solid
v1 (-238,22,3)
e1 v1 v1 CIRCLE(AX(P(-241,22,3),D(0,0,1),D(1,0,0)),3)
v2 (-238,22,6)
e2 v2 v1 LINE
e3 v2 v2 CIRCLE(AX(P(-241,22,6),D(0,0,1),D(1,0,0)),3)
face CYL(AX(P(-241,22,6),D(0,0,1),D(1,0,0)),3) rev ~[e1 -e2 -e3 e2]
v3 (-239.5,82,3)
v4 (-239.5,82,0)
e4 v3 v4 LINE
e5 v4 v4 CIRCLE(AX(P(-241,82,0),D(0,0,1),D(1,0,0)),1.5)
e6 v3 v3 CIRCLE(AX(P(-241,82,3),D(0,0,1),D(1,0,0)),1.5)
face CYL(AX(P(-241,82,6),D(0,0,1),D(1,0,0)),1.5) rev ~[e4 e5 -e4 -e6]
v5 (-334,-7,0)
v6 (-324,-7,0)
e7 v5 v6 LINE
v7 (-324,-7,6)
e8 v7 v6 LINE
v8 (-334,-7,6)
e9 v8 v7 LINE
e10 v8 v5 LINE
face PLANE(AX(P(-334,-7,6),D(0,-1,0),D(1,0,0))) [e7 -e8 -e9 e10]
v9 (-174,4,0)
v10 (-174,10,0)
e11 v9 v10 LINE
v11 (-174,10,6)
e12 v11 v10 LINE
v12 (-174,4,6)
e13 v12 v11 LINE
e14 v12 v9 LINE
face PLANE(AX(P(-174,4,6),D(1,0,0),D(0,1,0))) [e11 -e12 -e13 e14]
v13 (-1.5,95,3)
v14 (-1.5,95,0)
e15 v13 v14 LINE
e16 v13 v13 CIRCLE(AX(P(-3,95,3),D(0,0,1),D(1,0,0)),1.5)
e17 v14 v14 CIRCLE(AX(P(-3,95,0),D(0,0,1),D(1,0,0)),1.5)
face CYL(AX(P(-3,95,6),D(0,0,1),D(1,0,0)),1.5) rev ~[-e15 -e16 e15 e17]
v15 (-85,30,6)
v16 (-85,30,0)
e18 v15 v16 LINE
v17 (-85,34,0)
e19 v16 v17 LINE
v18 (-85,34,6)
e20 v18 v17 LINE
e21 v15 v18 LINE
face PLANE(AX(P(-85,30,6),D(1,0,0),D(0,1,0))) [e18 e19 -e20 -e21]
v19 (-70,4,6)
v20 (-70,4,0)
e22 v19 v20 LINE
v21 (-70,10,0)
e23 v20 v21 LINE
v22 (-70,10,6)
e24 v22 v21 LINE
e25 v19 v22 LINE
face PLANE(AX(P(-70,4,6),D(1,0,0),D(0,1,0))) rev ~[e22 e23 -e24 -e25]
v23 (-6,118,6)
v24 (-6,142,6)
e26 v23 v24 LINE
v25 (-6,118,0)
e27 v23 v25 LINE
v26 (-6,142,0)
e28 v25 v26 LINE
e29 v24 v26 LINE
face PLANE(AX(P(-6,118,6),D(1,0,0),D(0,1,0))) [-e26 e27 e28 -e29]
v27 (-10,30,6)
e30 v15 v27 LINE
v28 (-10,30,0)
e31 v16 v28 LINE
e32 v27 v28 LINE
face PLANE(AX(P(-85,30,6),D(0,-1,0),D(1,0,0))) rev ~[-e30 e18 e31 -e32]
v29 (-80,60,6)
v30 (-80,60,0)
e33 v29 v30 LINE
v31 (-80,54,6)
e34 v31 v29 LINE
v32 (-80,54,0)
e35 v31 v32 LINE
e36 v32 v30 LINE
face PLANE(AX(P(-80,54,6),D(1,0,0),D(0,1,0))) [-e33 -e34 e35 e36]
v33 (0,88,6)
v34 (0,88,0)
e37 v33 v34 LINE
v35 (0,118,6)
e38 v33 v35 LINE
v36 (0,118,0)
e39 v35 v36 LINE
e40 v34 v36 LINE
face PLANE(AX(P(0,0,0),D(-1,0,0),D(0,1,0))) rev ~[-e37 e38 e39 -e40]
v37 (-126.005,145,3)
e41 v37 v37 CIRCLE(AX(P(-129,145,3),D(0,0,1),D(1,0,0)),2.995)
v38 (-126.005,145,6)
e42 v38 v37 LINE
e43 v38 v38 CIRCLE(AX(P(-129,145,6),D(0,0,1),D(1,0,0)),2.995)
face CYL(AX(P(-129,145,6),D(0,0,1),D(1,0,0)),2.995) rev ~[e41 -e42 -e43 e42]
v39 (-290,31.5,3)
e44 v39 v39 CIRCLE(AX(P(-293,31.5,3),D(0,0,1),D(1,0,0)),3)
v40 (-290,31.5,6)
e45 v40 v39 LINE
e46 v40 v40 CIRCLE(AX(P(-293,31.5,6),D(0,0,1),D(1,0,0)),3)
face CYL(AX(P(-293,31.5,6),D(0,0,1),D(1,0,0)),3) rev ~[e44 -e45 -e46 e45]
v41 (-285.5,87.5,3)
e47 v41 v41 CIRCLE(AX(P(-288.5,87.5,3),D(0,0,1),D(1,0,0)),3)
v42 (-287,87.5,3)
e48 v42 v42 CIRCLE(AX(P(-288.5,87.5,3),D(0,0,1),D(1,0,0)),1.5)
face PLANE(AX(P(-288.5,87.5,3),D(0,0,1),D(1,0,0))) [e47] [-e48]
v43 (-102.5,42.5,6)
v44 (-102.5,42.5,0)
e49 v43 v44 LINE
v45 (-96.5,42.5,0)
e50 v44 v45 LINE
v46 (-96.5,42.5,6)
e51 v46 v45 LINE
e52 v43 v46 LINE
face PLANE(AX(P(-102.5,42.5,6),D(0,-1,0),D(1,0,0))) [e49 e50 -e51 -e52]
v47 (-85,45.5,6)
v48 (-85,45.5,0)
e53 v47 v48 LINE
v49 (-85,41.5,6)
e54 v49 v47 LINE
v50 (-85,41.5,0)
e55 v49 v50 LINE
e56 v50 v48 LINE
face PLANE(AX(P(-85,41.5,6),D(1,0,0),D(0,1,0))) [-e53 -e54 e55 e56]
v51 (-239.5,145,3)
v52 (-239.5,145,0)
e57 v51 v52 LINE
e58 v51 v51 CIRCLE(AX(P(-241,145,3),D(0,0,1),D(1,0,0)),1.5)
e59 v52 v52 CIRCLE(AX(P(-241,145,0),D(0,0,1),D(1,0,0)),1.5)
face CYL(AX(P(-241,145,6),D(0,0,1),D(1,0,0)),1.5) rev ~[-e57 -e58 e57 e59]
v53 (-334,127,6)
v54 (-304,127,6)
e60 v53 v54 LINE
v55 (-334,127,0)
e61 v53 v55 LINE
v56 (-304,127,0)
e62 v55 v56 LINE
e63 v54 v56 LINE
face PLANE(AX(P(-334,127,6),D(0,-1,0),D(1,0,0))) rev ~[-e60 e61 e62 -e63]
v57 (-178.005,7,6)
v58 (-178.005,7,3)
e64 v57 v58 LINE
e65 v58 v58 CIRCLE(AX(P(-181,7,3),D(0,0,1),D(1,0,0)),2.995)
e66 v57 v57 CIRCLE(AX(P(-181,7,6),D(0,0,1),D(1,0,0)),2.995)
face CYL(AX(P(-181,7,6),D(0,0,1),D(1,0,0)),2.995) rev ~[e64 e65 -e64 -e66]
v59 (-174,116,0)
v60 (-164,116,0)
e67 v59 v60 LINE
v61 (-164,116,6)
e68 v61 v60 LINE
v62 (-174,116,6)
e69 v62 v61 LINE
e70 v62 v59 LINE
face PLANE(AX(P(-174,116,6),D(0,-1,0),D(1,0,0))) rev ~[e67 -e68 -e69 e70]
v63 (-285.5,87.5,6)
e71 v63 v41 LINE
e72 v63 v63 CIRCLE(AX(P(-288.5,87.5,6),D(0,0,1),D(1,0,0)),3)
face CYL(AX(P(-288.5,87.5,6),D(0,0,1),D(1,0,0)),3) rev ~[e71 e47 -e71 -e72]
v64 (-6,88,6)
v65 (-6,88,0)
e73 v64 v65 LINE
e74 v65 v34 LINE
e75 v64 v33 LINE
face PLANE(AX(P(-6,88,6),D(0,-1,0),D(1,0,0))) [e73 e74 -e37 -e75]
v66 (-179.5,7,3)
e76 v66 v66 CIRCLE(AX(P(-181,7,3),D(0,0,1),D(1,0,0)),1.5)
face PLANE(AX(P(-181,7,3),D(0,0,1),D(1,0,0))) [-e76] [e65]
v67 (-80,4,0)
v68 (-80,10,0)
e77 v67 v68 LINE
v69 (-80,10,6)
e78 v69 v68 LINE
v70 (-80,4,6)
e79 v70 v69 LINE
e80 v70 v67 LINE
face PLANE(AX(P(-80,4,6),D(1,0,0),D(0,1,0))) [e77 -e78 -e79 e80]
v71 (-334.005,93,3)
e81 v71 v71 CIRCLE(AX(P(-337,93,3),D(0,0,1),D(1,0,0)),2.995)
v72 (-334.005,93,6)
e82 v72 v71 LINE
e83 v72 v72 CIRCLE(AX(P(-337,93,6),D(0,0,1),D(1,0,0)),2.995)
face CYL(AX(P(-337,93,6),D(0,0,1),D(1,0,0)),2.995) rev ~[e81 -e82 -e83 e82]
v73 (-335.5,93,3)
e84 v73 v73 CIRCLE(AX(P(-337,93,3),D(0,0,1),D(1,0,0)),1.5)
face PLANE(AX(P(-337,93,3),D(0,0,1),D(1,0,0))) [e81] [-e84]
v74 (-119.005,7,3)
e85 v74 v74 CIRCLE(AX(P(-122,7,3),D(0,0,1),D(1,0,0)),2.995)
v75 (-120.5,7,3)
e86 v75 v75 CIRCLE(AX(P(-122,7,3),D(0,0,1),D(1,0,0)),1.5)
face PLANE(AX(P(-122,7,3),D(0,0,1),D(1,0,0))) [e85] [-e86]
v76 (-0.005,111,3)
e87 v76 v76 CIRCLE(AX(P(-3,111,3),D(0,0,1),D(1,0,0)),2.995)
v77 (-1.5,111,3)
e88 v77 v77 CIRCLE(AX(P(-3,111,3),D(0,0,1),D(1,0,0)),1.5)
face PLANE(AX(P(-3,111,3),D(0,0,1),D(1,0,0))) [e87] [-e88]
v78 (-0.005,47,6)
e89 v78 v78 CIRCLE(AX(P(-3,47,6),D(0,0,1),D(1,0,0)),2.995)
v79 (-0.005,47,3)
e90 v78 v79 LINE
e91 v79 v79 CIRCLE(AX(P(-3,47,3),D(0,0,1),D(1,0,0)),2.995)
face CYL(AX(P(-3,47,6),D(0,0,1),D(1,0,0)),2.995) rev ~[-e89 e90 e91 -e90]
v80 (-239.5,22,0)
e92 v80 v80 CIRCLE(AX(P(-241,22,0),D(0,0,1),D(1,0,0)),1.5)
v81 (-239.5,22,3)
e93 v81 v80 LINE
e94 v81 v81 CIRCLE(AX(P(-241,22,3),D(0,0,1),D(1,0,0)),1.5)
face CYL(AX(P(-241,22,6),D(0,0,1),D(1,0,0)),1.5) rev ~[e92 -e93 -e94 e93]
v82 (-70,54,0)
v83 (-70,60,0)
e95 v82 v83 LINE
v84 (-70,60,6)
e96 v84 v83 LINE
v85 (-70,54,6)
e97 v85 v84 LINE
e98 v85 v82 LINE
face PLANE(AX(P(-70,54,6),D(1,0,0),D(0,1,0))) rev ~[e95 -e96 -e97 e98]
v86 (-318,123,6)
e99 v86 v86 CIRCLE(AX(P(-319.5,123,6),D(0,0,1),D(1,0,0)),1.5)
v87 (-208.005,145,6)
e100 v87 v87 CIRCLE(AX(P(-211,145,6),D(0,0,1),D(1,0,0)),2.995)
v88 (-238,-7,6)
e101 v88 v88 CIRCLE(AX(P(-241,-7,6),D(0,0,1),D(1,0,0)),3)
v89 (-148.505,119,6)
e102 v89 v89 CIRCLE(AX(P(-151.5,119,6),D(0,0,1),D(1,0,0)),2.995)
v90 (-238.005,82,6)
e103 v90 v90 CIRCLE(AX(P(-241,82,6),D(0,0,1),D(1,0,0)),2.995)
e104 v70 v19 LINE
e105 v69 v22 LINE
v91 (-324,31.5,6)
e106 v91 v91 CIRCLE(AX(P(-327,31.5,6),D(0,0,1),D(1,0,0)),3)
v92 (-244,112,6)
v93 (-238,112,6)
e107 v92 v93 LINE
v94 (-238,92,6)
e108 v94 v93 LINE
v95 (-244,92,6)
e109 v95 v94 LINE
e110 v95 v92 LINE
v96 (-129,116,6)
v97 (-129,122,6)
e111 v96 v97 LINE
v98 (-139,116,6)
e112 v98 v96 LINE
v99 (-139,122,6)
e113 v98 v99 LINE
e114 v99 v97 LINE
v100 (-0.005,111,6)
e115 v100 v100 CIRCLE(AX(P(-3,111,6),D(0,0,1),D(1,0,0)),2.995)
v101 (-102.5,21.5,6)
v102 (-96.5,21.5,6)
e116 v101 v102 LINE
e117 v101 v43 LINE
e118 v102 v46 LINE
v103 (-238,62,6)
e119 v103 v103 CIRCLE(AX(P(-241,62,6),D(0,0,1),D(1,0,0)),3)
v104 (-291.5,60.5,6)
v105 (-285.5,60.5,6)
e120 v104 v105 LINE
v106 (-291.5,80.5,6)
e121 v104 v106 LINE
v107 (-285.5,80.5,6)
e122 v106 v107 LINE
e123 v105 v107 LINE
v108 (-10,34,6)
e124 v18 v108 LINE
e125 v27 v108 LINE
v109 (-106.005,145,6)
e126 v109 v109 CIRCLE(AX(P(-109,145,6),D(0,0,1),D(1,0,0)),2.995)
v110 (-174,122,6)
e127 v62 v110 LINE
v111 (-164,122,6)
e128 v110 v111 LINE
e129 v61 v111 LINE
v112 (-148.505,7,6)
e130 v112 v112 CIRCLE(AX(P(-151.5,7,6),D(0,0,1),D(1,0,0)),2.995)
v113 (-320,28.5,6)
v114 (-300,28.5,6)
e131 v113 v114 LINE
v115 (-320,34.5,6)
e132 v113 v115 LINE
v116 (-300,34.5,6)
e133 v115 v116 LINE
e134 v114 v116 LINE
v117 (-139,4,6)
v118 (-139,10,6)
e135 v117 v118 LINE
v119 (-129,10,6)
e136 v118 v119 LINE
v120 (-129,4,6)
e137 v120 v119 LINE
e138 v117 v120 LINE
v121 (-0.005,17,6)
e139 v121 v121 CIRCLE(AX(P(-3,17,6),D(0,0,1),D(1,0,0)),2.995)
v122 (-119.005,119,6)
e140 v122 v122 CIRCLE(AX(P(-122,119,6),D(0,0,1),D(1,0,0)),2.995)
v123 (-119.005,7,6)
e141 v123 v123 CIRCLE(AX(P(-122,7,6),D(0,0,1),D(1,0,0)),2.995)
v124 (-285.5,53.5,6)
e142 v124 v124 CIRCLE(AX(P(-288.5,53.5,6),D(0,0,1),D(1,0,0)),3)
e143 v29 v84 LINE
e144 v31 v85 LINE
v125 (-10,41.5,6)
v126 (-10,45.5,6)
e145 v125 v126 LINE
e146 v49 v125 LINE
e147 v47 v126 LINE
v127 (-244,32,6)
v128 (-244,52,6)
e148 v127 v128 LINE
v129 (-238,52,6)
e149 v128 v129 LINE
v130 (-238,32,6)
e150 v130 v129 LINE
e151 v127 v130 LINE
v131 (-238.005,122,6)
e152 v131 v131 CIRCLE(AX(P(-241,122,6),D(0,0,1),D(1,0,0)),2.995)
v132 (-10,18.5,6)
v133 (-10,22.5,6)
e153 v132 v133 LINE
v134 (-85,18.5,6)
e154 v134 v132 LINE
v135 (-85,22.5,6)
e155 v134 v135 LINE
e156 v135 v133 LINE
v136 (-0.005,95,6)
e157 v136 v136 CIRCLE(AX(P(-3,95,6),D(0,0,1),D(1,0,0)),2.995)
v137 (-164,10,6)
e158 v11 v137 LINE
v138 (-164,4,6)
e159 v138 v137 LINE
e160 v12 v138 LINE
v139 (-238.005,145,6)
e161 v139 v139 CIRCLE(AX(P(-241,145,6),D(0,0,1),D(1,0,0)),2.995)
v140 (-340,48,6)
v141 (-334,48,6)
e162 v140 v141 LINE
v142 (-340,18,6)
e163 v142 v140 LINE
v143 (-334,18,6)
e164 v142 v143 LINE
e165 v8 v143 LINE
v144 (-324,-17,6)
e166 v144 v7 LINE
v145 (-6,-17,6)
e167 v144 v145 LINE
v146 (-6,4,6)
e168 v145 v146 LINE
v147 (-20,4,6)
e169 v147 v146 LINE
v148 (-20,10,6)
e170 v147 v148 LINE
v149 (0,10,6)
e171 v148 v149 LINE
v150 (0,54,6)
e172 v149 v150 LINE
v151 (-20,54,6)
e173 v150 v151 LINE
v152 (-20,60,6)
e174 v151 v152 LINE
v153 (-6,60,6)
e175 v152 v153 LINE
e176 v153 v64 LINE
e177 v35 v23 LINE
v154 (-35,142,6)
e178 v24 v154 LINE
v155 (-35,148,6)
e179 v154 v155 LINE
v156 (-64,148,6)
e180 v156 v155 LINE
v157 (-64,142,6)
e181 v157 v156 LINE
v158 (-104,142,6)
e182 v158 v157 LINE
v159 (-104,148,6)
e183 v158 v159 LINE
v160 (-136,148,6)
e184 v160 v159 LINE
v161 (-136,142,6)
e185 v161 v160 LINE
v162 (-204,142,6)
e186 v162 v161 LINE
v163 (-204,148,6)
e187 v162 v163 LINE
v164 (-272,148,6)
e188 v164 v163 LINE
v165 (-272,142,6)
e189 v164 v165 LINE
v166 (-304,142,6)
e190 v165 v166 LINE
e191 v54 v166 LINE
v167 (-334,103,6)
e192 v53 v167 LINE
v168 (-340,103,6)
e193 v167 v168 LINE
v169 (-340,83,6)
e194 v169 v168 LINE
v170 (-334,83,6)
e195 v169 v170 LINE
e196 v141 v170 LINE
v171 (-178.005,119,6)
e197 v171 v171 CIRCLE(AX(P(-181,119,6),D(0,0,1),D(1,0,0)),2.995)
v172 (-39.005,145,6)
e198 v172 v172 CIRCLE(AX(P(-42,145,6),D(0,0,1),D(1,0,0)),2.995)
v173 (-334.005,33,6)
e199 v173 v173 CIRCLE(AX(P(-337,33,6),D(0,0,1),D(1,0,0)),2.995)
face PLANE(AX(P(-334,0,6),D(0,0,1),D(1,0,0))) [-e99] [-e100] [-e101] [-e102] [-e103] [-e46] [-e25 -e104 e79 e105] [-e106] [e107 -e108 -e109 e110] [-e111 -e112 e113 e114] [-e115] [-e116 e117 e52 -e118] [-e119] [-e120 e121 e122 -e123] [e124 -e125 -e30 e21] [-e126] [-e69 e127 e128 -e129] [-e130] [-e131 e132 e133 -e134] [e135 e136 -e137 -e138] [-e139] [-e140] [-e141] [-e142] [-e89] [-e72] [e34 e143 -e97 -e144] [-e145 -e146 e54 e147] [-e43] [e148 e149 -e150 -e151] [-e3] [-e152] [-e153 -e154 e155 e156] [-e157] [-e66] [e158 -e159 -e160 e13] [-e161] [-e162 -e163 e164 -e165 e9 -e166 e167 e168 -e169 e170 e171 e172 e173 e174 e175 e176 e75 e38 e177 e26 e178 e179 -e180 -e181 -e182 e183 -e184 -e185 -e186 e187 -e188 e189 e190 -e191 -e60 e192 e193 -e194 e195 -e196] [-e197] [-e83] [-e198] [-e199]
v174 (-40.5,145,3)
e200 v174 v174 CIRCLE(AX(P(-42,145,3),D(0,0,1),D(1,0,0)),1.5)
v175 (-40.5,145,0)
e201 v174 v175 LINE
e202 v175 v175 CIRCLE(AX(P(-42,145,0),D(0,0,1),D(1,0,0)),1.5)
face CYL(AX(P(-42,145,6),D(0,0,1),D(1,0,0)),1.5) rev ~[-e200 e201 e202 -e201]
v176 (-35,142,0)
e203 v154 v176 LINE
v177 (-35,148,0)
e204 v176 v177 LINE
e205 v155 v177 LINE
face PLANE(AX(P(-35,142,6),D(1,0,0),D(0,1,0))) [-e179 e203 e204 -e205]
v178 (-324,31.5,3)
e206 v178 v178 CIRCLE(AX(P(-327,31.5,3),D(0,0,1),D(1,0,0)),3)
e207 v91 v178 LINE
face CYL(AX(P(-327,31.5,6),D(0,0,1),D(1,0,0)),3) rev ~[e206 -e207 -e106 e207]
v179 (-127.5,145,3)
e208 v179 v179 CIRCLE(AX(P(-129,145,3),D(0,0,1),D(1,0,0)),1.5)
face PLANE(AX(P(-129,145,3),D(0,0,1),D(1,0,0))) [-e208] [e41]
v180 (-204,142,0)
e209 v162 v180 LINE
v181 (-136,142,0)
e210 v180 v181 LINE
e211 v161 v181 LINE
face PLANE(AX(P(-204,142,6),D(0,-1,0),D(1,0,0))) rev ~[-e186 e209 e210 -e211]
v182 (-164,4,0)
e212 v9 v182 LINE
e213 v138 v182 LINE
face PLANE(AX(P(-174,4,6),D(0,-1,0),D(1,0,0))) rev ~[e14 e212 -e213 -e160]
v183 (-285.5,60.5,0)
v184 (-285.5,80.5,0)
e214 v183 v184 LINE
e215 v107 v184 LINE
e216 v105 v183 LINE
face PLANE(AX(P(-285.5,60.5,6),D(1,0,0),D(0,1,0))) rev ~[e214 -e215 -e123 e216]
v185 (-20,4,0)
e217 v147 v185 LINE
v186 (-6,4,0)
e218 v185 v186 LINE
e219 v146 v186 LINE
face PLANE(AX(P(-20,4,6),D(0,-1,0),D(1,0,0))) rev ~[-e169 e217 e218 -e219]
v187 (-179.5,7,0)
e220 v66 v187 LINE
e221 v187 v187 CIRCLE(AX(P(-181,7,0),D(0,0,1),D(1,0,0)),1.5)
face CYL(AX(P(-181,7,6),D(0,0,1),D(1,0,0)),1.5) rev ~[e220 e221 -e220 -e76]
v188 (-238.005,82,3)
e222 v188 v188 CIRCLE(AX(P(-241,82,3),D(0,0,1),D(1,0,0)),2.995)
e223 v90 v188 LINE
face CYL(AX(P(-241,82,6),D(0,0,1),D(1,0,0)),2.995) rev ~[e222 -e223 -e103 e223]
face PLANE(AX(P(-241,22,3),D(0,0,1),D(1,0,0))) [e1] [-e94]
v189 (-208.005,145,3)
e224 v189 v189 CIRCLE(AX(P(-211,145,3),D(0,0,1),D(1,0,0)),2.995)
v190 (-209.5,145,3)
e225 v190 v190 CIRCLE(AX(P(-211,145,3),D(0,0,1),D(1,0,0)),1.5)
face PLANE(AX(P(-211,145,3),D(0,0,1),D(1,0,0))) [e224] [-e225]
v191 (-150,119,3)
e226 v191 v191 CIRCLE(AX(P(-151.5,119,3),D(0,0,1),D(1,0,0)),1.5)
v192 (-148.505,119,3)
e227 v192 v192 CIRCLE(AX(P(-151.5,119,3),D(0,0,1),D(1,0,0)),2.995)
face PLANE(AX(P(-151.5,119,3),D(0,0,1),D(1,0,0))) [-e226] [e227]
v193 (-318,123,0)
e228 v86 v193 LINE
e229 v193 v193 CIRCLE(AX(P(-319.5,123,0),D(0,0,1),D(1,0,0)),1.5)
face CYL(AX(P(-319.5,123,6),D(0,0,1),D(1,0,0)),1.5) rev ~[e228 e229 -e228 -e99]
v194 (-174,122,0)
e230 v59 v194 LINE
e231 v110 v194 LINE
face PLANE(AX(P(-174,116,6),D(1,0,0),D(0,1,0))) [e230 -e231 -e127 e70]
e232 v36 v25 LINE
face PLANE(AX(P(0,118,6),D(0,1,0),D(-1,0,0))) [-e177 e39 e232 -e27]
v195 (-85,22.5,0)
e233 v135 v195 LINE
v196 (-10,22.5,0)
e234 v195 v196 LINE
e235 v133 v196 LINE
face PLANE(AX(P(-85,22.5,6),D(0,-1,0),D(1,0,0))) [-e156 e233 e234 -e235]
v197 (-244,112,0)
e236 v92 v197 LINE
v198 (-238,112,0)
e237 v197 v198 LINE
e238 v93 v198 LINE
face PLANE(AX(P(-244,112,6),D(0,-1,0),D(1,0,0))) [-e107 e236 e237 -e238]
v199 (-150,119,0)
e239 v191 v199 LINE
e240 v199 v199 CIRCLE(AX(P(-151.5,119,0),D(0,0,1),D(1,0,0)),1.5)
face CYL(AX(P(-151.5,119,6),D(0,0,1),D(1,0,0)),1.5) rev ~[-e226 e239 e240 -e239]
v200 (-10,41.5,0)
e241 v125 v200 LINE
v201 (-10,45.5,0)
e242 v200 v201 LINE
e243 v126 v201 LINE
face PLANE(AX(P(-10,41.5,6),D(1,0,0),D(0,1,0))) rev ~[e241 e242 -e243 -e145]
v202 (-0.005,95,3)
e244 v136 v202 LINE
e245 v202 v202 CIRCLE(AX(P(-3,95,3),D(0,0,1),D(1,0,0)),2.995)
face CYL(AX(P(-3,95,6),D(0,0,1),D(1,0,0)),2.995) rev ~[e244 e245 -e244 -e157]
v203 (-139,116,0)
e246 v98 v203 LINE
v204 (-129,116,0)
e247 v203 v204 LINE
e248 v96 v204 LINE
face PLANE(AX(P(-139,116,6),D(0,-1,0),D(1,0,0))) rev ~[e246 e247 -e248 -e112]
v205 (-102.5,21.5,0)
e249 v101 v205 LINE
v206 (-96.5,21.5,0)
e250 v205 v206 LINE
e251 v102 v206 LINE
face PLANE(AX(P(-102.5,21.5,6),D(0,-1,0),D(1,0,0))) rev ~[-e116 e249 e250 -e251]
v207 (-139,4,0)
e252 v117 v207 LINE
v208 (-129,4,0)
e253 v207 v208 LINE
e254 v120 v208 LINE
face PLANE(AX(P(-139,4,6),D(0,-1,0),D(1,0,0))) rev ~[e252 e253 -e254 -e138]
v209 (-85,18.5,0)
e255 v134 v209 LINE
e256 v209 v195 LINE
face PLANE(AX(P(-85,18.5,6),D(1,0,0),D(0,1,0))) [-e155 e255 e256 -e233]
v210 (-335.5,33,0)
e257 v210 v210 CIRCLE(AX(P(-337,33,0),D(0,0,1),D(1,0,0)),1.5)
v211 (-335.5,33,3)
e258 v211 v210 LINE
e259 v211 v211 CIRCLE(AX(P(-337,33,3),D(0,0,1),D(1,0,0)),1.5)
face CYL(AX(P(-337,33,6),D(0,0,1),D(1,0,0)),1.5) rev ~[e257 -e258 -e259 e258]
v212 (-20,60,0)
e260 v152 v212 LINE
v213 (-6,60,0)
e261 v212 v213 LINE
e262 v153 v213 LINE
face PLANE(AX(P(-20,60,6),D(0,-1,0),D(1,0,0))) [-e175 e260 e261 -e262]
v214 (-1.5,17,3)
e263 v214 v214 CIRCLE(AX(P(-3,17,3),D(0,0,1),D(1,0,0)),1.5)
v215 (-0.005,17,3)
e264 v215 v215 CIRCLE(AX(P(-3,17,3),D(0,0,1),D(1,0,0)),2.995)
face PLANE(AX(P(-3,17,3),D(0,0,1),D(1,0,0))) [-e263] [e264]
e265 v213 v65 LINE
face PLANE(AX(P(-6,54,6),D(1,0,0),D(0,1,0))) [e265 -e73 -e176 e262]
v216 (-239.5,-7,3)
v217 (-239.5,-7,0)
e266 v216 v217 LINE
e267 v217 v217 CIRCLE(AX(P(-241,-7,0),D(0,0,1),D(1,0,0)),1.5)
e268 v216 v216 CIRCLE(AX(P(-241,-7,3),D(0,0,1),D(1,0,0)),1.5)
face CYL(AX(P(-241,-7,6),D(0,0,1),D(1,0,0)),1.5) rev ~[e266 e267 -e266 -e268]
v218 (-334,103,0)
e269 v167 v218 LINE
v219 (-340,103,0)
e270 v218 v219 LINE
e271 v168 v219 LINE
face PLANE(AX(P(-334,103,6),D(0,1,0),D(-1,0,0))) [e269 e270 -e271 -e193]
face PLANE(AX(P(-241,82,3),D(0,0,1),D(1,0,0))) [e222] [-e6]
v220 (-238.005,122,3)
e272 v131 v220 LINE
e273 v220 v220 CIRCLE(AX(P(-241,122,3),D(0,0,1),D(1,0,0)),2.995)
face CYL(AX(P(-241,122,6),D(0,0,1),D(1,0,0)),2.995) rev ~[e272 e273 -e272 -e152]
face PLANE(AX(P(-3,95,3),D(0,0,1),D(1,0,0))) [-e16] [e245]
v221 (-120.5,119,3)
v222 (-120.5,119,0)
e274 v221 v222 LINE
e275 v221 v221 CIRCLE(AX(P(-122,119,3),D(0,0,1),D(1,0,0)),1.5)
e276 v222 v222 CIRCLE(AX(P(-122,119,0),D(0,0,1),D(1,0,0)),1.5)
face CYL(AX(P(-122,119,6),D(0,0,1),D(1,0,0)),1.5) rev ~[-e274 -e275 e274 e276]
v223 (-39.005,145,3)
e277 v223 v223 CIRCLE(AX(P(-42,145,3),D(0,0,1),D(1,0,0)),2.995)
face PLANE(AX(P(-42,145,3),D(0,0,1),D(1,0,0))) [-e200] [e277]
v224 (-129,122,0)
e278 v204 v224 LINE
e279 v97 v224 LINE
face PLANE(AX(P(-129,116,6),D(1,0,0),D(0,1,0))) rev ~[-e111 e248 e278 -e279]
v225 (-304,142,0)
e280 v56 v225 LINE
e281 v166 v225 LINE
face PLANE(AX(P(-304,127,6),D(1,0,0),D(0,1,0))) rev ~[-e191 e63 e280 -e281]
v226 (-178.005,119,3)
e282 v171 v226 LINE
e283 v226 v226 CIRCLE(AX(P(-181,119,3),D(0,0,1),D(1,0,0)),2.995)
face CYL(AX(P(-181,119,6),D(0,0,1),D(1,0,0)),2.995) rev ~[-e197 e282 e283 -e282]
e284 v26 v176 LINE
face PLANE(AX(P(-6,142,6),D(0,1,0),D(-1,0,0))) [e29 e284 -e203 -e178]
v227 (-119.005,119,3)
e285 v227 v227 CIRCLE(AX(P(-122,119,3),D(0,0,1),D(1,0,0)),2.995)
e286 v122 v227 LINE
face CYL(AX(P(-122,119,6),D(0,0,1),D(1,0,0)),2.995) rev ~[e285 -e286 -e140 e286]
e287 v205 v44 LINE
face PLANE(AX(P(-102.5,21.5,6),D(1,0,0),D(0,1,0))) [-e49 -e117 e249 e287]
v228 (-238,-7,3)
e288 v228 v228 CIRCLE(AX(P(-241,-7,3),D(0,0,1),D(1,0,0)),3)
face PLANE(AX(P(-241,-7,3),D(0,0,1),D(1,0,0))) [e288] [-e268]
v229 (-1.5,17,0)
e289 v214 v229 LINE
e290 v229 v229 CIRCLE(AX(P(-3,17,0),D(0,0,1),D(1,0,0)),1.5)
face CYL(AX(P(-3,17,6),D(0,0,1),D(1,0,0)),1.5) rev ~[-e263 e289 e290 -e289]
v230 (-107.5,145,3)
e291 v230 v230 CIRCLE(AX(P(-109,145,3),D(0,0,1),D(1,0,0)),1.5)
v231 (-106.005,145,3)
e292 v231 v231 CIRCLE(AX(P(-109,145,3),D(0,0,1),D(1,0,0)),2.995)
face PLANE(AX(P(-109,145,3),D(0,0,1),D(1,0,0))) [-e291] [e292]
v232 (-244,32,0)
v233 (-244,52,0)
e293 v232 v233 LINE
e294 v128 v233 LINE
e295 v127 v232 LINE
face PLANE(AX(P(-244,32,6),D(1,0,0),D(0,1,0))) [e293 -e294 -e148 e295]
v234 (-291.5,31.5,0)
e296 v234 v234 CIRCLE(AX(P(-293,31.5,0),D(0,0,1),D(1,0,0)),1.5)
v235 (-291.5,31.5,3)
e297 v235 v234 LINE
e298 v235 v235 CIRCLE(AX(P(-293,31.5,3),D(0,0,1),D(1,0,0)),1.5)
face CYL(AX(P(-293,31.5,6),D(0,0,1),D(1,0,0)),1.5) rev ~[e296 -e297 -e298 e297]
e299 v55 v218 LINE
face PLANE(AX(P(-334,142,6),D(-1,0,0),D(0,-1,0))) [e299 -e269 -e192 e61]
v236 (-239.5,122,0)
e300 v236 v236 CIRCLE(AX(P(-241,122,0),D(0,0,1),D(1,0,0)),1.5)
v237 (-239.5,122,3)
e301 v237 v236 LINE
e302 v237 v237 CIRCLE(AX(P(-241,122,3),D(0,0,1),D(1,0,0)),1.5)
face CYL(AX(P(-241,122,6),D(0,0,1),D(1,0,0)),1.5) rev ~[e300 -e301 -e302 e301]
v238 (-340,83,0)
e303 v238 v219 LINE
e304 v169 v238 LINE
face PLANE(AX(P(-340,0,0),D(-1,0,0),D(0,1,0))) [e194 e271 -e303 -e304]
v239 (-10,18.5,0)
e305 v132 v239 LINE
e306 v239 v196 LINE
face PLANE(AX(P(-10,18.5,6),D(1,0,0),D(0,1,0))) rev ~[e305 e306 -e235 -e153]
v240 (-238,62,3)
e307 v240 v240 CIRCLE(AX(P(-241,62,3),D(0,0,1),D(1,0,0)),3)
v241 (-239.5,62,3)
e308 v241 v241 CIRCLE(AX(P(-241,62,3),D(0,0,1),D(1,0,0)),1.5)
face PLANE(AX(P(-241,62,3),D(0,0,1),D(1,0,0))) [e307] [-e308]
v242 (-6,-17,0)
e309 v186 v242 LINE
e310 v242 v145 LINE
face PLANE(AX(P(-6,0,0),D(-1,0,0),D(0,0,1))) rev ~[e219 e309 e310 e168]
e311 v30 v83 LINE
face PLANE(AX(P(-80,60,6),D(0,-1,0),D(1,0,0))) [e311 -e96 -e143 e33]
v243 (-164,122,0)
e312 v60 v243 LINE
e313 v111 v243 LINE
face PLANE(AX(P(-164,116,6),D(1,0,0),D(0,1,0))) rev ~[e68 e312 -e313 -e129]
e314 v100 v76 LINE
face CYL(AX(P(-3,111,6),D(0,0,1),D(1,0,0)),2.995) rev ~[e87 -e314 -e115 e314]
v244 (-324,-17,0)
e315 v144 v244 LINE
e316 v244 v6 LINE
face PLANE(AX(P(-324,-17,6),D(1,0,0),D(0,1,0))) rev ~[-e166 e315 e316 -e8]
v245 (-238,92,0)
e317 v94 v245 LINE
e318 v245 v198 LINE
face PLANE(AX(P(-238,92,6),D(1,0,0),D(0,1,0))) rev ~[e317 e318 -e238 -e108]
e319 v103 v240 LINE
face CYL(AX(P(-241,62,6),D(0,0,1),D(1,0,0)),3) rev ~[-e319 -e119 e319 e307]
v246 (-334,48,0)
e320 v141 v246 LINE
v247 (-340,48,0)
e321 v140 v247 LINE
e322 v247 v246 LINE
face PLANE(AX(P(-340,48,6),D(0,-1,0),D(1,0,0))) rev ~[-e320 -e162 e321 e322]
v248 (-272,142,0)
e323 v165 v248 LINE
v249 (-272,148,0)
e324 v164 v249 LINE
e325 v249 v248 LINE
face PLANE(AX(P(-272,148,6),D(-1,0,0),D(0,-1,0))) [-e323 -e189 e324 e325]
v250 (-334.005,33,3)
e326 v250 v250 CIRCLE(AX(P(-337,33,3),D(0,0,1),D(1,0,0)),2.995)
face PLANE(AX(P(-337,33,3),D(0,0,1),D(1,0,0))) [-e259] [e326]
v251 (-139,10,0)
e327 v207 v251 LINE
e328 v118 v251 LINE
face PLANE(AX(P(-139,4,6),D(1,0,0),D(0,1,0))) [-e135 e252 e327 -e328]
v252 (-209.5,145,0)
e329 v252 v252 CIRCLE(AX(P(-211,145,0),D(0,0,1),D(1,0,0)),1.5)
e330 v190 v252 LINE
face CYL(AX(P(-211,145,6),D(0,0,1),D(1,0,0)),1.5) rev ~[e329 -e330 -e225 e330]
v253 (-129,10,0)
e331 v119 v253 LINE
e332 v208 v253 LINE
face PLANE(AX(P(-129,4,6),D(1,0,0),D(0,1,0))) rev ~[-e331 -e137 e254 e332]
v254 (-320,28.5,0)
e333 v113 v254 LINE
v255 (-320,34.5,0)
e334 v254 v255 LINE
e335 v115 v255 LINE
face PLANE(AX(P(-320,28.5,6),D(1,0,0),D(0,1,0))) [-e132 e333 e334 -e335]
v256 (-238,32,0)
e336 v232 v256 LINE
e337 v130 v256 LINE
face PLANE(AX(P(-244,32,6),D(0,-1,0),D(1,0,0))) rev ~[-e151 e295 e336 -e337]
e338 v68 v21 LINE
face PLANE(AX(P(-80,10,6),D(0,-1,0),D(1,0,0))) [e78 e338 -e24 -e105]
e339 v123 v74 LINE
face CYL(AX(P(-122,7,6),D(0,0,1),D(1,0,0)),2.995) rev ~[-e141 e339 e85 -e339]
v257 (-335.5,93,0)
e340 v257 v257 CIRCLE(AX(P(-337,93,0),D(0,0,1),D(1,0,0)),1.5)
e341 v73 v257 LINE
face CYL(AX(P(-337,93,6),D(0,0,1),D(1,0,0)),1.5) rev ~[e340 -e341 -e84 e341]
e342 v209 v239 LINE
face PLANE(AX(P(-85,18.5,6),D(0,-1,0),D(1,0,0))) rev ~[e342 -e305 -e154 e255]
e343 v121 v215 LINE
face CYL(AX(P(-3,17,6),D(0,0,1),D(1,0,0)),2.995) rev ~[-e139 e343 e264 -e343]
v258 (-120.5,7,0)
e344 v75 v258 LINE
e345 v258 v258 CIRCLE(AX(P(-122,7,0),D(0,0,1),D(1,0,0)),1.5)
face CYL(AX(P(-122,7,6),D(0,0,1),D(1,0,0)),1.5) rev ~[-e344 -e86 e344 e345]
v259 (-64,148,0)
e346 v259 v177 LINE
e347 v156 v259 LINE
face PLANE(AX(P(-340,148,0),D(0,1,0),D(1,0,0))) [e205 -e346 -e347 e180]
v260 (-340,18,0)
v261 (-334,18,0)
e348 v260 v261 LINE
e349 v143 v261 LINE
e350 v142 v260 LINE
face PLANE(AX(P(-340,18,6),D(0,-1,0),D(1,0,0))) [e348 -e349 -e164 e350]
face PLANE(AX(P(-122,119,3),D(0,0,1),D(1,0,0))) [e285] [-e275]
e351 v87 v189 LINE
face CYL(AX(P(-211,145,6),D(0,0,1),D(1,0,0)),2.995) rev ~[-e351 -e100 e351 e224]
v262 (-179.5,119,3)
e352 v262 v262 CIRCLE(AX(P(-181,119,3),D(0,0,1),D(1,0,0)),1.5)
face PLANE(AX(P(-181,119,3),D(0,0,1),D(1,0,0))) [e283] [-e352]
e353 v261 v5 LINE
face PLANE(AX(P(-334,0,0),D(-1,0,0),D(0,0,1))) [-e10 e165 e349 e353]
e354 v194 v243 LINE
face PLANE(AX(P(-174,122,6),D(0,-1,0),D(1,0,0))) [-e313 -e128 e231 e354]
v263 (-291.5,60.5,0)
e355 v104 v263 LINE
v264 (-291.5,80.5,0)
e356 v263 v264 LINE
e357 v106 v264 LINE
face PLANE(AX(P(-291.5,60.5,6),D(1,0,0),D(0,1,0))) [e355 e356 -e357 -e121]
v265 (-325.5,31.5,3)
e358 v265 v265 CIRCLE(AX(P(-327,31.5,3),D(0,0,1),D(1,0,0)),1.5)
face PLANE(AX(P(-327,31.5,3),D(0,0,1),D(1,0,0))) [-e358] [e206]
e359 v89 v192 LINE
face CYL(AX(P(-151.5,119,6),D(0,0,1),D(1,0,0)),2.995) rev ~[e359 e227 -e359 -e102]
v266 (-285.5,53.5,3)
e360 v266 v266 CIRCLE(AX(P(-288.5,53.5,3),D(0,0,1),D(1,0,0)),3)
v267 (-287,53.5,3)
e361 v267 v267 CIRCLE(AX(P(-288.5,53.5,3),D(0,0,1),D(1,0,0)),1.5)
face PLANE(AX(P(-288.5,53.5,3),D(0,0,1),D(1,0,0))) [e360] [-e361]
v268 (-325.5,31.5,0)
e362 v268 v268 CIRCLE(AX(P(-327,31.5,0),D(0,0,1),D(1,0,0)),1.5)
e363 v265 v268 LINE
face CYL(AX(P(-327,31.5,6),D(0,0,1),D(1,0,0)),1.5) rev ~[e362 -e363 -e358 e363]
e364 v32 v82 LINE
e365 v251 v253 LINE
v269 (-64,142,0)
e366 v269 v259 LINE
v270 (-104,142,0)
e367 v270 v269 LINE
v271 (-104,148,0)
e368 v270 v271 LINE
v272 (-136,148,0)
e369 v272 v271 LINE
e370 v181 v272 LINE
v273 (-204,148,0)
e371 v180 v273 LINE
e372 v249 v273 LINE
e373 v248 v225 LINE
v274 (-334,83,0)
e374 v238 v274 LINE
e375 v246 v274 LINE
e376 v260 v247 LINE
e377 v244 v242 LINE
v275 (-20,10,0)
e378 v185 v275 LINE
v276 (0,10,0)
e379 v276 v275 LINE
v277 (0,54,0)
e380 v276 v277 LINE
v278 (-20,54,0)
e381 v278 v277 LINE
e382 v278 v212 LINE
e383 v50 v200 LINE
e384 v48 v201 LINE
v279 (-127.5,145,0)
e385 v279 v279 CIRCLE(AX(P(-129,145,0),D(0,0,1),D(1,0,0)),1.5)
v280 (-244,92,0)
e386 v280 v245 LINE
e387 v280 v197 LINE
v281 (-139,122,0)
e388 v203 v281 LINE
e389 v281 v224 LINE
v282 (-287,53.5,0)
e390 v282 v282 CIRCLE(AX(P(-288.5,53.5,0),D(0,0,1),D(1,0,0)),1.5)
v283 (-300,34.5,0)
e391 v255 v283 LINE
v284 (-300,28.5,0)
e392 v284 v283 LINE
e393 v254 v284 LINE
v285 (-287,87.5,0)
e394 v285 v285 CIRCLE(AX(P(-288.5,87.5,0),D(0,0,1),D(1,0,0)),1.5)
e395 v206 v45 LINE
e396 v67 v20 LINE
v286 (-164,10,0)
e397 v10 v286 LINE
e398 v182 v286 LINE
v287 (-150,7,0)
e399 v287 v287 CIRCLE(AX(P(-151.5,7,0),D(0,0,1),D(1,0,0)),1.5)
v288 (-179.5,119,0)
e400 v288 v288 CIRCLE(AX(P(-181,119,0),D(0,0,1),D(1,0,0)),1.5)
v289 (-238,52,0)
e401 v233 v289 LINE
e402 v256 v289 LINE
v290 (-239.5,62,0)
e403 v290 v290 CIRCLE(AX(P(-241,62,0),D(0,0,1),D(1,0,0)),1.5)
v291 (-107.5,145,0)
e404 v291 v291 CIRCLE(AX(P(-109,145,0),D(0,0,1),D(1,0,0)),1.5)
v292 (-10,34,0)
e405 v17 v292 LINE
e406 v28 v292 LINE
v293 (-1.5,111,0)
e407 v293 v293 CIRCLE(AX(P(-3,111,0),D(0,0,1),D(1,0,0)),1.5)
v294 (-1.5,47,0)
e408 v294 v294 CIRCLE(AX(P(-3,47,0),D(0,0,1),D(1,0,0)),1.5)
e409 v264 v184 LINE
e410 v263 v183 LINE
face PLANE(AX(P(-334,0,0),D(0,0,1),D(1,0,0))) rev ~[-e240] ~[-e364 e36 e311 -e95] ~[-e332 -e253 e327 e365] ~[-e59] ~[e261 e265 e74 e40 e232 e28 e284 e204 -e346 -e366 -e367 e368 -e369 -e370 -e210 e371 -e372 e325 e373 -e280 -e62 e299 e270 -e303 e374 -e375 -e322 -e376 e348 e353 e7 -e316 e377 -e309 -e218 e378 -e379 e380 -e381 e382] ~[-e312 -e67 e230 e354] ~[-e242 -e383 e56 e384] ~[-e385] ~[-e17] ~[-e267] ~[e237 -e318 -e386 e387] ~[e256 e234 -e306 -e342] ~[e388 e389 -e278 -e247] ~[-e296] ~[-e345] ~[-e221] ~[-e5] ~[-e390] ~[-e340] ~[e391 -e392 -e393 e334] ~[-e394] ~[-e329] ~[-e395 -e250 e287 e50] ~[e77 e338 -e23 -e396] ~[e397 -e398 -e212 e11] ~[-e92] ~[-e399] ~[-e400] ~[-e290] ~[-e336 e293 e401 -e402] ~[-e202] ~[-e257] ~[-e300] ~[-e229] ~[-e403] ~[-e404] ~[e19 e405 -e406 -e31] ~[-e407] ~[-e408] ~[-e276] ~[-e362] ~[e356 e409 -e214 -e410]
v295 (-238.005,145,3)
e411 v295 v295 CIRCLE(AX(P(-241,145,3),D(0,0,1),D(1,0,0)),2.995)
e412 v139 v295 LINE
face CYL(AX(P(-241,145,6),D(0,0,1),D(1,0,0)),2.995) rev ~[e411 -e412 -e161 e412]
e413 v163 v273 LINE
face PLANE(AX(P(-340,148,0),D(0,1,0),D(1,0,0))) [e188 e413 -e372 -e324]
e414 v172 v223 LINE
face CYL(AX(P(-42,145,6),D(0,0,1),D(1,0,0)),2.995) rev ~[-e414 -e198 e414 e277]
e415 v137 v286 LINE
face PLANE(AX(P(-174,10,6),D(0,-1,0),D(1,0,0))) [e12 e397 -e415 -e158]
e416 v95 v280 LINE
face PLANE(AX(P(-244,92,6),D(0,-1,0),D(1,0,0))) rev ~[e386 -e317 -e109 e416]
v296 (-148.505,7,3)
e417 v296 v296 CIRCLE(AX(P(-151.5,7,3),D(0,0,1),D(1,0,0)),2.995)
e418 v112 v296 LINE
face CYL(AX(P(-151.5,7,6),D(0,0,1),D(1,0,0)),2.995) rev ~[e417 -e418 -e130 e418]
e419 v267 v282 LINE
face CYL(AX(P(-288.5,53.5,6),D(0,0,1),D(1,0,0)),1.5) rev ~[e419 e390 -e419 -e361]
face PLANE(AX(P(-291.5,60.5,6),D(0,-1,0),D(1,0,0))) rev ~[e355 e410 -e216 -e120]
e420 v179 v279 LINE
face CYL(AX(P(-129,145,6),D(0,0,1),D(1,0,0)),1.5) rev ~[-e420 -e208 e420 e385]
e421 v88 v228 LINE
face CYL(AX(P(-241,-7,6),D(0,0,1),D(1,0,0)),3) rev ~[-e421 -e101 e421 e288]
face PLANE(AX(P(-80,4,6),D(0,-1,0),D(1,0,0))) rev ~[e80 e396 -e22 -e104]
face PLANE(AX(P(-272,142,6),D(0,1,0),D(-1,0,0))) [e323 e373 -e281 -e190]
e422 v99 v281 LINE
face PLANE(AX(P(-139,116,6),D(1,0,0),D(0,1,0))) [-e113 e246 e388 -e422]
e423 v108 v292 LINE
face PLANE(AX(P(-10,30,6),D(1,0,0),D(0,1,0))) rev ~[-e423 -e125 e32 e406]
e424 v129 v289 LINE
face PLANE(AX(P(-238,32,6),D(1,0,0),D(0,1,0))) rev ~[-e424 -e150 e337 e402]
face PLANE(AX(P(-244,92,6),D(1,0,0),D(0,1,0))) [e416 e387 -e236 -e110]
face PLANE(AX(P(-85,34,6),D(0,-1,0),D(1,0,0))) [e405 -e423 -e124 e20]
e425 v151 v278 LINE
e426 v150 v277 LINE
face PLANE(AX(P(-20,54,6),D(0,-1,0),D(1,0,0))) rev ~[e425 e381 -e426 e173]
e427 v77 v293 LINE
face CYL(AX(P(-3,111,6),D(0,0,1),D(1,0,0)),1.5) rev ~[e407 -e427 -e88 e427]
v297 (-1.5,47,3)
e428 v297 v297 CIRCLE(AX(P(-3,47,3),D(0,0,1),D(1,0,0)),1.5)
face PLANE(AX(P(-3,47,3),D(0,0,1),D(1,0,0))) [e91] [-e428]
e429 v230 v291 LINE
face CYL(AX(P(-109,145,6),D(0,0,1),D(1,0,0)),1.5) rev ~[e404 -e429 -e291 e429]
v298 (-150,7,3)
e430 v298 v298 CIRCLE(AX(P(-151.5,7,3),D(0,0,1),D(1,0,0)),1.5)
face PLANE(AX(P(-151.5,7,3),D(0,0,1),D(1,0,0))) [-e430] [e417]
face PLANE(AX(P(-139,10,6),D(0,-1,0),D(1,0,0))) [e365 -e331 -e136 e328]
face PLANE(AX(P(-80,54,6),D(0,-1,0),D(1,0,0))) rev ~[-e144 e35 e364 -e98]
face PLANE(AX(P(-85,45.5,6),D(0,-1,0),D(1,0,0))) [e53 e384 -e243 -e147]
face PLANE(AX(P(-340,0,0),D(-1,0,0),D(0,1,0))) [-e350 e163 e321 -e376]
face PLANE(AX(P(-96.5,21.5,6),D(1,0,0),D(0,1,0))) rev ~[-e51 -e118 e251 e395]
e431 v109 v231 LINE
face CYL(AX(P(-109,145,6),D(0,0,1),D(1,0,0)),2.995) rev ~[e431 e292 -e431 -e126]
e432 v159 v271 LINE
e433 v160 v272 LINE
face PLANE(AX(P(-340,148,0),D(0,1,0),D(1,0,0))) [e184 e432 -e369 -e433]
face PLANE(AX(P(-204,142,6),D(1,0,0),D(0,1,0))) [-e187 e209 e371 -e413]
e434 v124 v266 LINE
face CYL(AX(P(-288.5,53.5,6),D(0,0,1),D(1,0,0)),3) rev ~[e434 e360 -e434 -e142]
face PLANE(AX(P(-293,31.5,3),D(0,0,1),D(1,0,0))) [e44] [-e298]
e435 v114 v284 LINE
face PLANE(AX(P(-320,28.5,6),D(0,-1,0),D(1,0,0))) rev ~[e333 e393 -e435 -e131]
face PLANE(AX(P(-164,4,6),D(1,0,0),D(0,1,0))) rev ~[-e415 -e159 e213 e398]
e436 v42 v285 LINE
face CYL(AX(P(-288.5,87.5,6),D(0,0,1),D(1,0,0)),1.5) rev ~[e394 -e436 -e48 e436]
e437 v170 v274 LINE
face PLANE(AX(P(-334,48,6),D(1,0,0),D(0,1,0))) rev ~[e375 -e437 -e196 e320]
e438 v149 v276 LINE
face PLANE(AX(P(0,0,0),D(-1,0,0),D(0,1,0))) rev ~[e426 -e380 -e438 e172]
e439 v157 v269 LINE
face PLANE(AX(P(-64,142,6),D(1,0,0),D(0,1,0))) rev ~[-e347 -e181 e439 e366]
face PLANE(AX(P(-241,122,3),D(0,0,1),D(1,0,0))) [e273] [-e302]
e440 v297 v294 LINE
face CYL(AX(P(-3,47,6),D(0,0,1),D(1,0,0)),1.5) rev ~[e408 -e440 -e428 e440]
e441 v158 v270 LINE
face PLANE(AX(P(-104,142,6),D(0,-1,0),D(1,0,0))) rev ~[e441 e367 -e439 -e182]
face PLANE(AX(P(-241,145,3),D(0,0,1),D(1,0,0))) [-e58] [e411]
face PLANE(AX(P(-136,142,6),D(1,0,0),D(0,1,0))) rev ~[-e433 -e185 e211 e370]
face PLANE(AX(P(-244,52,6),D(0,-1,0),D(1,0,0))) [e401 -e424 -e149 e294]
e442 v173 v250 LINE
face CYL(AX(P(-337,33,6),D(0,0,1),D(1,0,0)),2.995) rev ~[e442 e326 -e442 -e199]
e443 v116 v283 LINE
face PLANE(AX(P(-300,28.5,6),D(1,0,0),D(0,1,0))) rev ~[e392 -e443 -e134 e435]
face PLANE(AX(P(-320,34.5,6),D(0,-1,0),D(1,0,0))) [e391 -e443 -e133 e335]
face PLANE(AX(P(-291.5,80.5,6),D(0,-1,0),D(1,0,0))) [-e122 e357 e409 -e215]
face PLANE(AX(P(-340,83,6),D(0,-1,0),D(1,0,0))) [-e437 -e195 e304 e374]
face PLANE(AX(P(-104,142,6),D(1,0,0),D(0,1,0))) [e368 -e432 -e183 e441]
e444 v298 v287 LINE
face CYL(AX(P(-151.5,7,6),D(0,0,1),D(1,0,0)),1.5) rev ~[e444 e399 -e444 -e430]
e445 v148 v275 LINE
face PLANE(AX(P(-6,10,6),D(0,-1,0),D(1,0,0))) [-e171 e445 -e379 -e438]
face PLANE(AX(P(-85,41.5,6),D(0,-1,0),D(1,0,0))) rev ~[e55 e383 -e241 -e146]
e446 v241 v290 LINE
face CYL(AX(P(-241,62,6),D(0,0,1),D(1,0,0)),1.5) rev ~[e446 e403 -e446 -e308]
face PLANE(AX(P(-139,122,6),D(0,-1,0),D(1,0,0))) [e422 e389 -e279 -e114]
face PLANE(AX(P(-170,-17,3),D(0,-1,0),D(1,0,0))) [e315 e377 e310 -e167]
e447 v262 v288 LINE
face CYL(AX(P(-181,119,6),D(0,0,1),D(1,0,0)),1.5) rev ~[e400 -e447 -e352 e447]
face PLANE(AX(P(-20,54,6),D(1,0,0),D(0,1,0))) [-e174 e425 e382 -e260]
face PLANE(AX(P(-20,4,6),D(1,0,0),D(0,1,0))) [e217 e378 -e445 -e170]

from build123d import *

# Parameters (mm, degrees)
ESQUISSE1_W             = 340
ESQUISSE1_H             = 148
BOSS_EXTRU_1_DEPTH      = 6
ESQUISSE2_W             = 6
ESQUISSE2_H             = 10
ESQUISSE2_H_2           = 35
ESQUISSE2_H_3           = 18
ESQUISSE2_W_2           = 68
ESQUISSE2_H_4           = 6
ESQUISSE2_H_5           = 34
ESQUISSE2_W_3           = 40
ENL_V_MAT_EXTRU_1_DEPTH = 6
ESQUISSE3_W             = 6
ESQUISSE3_H             = 20
ESQUISSE3_W_2           = 30
ESQUISSE3_H_2           = 15
ESQUISSE3_W_3           = 20
ESQUISSE3_H_3           = 6
ENL_V_MAT_EXTRU_2_DEPTH = 10
ESQUISSE4_R             = 1.5
ESQUISSE4_W             = 10
ESQUISSE4_H             = 6
ENL_V_MAT_EXTRU_3_DEPTH = 10
ESQUISSE7_W             = 328
ESQUISSE7_H             = 6
BOSS_EXTRU_2_DEPTH      = 17
ESQUISSE8_R             = 1.5
ESQUISSE8_W             = 10
ESQUISSE8_H             = 10
ENL_V_MAT_EXTRU_5_DEPTH = 371.863856422
ESQUISSE9_R             = 2.995
ESQUISSE9_R_2           = 3
ENL_V_MAT_EXTRU_8_DEPTH = 3
ESQUISSE10_W            = 14
ESQUISSE10_H            = 6
ESQUISSE10_W_2          = 10
ESQUISSE10_W_3          = 75
ESQUISSE10_H_2          = 4
ESQUISSE10_W_4          = 6
ESQUISSE10_H_3          = 21
ENL_V_MAT_EXTRU_9_DEPTH = 371.863856422


with BuildPart() as part:
    # Esquisse1 → Boss.-Extru.1 (new body)
    with BuildSketch(Plane.XY):
        with Locations((-170, 74)):
            Rectangle(ESQUISSE1_W, ESQUISSE1_H)
    extrude(amount=BOSS_EXTRU_1_DEPTH)

    # Esquisse2 → Enlèv. mat.-Extru.1 (cut)
    with BuildSketch(Plane.XY.offset(6)):
        Polygon((-272, 142), (-334, 142), (-334, 103), (-340, 103), (-340, 148), (-272, 148), align=None)
        Polygon((0, 148), (0, 118), (-6, 118), (-6, 142), (-35, 142), (-35, 148), align=None)
        with Locations((-3, 5)):
            Rectangle(ESQUISSE2_W, ESQUISSE2_H)
        with Locations((-337, 65.5)):
            Rectangle(ESQUISSE2_W, ESQUISSE2_H_2)
        with Locations((-337, 9)):
            Rectangle(ESQUISSE2_W, ESQUISSE2_H_3)
        with Locations((-170, 145)):
            Rectangle(ESQUISSE2_W_2, ESQUISSE2_H_4)
        with Locations((-3, 71)):
            Rectangle(ESQUISSE2_W, ESQUISSE2_H_5)
        with Locations((-84, 145)):
            Rectangle(ESQUISSE2_W_3, ESQUISSE2_H_4)
    extrude(amount=-ENL_V_MAT_EXTRU_1_DEPTH, mode=Mode.SUBTRACT)

    # Esquisse3 → Enlèv. mat.-Extru.2 (cut)
    with BuildSketch(Plane.XY.offset(6)):
        with Locations((-241, 42)):
            Rectangle(ESQUISSE3_W, ESQUISSE3_H)
        with Locations((-241, 102)):
            Rectangle(ESQUISSE3_W, ESQUISSE3_H)
        with Locations((-288.5, 70.5)):
            Rectangle(ESQUISSE3_W, ESQUISSE3_H)
        with Locations((-319, 134.5)):
            Rectangle(ESQUISSE3_W_2, ESQUISSE3_H_2)
        with Locations((-310, 31.5)):
            Rectangle(ESQUISSE3_W_3, ESQUISSE3_H_3)
    extrude(amount=-ENL_V_MAT_EXTRU_2_DEPTH, mode=Mode.SUBTRACT)

    # Esquisse4 → Enlèv. mat.-Extru.3 (cut)
    with BuildSketch(Plane.XY.offset(6)):
        with Locations((-151.5, 119)):
            Circle(ESQUISSE4_R)
        with Locations((-151.5, 7)):
            Circle(ESQUISSE4_R)
        with Locations((-169, 119)):
            Rectangle(ESQUISSE4_W, ESQUISSE4_H)
        with Locations((-134, 119)):
            Rectangle(ESQUISSE4_W, ESQUISSE4_H)
        with Locations((-134, 7)):
            Rectangle(ESQUISSE4_W, ESQUISSE4_H)
        with Locations((-169, 7)):
            Rectangle(ESQUISSE4_W, ESQUISSE4_H)
    extrude(amount=-ENL_V_MAT_EXTRU_3_DEPTH, mode=Mode.SUBTRACT)

    # Esquisse7 → Boss.-Extru.2 (add)
    with BuildSketch(Plane.XZ):
        with Locations((-170, 3)):
            Rectangle(ESQUISSE7_W, ESQUISSE7_H)
    extrude(amount=BOSS_EXTRU_2_DEPTH)

    # Esquisse8 → Enlèv. mat.-Extru.5 (cut, through all)
    with BuildSketch(Plane.XY.offset(6)):
        with Locations((-42, 145)):
            Circle(ESQUISSE8_R)
        with Locations((-129, 145)):
            Circle(ESQUISSE8_R)
        with Locations((-109, 145)):
            Circle(ESQUISSE8_R)
        with Locations((-3, 111)):
            Circle(ESQUISSE8_R)
        with Locations((-3, 95)):
            Circle(ESQUISSE8_R)
        with Locations((-3, 47)):
            Circle(ESQUISSE8_R)
        with Locations((-3, 17)):
            Circle(ESQUISSE8_R)
        with Locations((-122, 119)):
            Circle(ESQUISSE8_R)
        with Locations((-181, 119)):
            Circle(ESQUISSE8_R)
        with Locations((-122, 7)):
            Circle(ESQUISSE8_R)
        with Locations((-181, 7)):
            Circle(ESQUISSE8_R)
        with Locations((-211, 145)):
            Circle(ESQUISSE8_R)
        with Locations((-241, 145)):
            Circle(ESQUISSE8_R)
        with Locations((-241, 122)):
            Circle(ESQUISSE8_R)
        with Locations((-241, 82)):
            Circle(ESQUISSE8_R)
        with Locations((-241, 62)):
            Circle(ESQUISSE8_R)
        with Locations((-241, 22)):
            Circle(ESQUISSE8_R)
        with Locations((-241, -7)):
            Circle(ESQUISSE8_R)
        with Locations((-288.5, 87.5)):
            Circle(ESQUISSE8_R)
        with Locations((-288.5, 53.5)):
            Circle(ESQUISSE8_R)
        with Locations((-319.5, 123)):
            Circle(ESQUISSE8_R)
        with Locations((-293, 31.5)):
            Circle(ESQUISSE8_R)
        with Locations((-327, 31.5)):
            Circle(ESQUISSE8_R)
        with Locations((-337, 33)):
            Circle(ESQUISSE8_R)
        with Locations((-337, 93)):
            Circle(ESQUISSE8_R)
        with Locations((-329, -12)):
            Rectangle(ESQUISSE8_W, ESQUISSE8_H)
    extrude(amount=-ENL_V_MAT_EXTRU_5_DEPTH, mode=Mode.SUBTRACT)

    # Esquisse9 → Enlèv. mat.-Extru.8 (cut)
    with BuildSketch(Plane.XY.offset(6)):
        with Locations((-337, 33)):
            Circle(ESQUISSE9_R)
        with Locations((-327, 31.5)):
            Circle(ESQUISSE9_R_2)
        with Locations((-293, 31.5)):
            Circle(ESQUISSE9_R_2)
        with Locations((-288.5, 53.5)):
            Circle(ESQUISSE9_R_2)
        with Locations((-288.5, 87.5)):
            Circle(ESQUISSE9_R_2)
        with Locations((-241, 145)):
            Circle(ESQUISSE9_R)
        with Locations((-241, 122)):
            Circle(ESQUISSE9_R)
        with Locations((-241, 82)):
            Circle(ESQUISSE9_R)
        with Locations((-241, 62)):
            Circle(ESQUISSE9_R_2)
        with Locations((-241, 22)):
            Circle(ESQUISSE9_R_2)
        with Locations((-241, -7)):
            Circle(ESQUISSE9_R_2)
        with Locations((-211, 145)):
            Circle(ESQUISSE9_R)
        with Locations((-337, 93)):
            Circle(ESQUISSE9_R)
        with Locations((-181, 119)):
            Circle(ESQUISSE9_R)
        with Locations((-151.5, 119)):
            Circle(ESQUISSE9_R)
        with Locations((-129, 145)):
            Circle(ESQUISSE9_R)
        with Locations((-122, 119)):
            Circle(ESQUISSE9_R)
        with Locations((-109, 145)):
            Circle(ESQUISSE9_R)
        with Locations((-122, 7)):
            Circle(ESQUISSE9_R)
        with Locations((-151.5, 7)):
            Circle(ESQUISSE9_R)
        with Locations((-181, 7)):
            Circle(ESQUISSE9_R)
        with Locations((-42, 145)):
            Circle(ESQUISSE9_R)
        with Locations((-3, 111)):
            Circle(ESQUISSE9_R)
        with Locations((-3, 95)):
            Circle(ESQUISSE9_R)
        with Locations((-3, 47)):
            Circle(ESQUISSE9_R)
        with Locations((-3, 17)):
            Circle(ESQUISSE9_R)
    extrude(amount=-ENL_V_MAT_EXTRU_8_DEPTH, mode=Mode.SUBTRACT)

    # Esquisse10 → Enlèv. mat.-Extru.9 (cut, through all)
    with BuildSketch(Plane.XY.offset(6)):
        with Locations((-13, 57)):
            Rectangle(ESQUISSE10_W, ESQUISSE10_H)
        with Locations((-75, 57)):
            Rectangle(ESQUISSE10_W_2, ESQUISSE10_H)
        with Locations((-13, 7)):
            Rectangle(ESQUISSE10_W, ESQUISSE10_H)
        with Locations((-75, 7)):
            Rectangle(ESQUISSE10_W_2, ESQUISSE10_H)
        with Locations((-47.5, 43.5)):
            Rectangle(ESQUISSE10_W_3, ESQUISSE10_H_2)
        with Locations((-47.5, 32)):
            Rectangle(ESQUISSE10_W_3, ESQUISSE10_H_2)
        with Locations((-47.5, 20.5)):
            Rectangle(ESQUISSE10_W_3, ESQUISSE10_H_2)
        with Locations((-99.5, 32)):
            Rectangle(ESQUISSE10_W_4, ESQUISSE10_H_3)
    extrude(amount=-ENL_V_MAT_EXTRU_9_DEPTH, mode=Mode.SUBTRACT)


solid = part.part
